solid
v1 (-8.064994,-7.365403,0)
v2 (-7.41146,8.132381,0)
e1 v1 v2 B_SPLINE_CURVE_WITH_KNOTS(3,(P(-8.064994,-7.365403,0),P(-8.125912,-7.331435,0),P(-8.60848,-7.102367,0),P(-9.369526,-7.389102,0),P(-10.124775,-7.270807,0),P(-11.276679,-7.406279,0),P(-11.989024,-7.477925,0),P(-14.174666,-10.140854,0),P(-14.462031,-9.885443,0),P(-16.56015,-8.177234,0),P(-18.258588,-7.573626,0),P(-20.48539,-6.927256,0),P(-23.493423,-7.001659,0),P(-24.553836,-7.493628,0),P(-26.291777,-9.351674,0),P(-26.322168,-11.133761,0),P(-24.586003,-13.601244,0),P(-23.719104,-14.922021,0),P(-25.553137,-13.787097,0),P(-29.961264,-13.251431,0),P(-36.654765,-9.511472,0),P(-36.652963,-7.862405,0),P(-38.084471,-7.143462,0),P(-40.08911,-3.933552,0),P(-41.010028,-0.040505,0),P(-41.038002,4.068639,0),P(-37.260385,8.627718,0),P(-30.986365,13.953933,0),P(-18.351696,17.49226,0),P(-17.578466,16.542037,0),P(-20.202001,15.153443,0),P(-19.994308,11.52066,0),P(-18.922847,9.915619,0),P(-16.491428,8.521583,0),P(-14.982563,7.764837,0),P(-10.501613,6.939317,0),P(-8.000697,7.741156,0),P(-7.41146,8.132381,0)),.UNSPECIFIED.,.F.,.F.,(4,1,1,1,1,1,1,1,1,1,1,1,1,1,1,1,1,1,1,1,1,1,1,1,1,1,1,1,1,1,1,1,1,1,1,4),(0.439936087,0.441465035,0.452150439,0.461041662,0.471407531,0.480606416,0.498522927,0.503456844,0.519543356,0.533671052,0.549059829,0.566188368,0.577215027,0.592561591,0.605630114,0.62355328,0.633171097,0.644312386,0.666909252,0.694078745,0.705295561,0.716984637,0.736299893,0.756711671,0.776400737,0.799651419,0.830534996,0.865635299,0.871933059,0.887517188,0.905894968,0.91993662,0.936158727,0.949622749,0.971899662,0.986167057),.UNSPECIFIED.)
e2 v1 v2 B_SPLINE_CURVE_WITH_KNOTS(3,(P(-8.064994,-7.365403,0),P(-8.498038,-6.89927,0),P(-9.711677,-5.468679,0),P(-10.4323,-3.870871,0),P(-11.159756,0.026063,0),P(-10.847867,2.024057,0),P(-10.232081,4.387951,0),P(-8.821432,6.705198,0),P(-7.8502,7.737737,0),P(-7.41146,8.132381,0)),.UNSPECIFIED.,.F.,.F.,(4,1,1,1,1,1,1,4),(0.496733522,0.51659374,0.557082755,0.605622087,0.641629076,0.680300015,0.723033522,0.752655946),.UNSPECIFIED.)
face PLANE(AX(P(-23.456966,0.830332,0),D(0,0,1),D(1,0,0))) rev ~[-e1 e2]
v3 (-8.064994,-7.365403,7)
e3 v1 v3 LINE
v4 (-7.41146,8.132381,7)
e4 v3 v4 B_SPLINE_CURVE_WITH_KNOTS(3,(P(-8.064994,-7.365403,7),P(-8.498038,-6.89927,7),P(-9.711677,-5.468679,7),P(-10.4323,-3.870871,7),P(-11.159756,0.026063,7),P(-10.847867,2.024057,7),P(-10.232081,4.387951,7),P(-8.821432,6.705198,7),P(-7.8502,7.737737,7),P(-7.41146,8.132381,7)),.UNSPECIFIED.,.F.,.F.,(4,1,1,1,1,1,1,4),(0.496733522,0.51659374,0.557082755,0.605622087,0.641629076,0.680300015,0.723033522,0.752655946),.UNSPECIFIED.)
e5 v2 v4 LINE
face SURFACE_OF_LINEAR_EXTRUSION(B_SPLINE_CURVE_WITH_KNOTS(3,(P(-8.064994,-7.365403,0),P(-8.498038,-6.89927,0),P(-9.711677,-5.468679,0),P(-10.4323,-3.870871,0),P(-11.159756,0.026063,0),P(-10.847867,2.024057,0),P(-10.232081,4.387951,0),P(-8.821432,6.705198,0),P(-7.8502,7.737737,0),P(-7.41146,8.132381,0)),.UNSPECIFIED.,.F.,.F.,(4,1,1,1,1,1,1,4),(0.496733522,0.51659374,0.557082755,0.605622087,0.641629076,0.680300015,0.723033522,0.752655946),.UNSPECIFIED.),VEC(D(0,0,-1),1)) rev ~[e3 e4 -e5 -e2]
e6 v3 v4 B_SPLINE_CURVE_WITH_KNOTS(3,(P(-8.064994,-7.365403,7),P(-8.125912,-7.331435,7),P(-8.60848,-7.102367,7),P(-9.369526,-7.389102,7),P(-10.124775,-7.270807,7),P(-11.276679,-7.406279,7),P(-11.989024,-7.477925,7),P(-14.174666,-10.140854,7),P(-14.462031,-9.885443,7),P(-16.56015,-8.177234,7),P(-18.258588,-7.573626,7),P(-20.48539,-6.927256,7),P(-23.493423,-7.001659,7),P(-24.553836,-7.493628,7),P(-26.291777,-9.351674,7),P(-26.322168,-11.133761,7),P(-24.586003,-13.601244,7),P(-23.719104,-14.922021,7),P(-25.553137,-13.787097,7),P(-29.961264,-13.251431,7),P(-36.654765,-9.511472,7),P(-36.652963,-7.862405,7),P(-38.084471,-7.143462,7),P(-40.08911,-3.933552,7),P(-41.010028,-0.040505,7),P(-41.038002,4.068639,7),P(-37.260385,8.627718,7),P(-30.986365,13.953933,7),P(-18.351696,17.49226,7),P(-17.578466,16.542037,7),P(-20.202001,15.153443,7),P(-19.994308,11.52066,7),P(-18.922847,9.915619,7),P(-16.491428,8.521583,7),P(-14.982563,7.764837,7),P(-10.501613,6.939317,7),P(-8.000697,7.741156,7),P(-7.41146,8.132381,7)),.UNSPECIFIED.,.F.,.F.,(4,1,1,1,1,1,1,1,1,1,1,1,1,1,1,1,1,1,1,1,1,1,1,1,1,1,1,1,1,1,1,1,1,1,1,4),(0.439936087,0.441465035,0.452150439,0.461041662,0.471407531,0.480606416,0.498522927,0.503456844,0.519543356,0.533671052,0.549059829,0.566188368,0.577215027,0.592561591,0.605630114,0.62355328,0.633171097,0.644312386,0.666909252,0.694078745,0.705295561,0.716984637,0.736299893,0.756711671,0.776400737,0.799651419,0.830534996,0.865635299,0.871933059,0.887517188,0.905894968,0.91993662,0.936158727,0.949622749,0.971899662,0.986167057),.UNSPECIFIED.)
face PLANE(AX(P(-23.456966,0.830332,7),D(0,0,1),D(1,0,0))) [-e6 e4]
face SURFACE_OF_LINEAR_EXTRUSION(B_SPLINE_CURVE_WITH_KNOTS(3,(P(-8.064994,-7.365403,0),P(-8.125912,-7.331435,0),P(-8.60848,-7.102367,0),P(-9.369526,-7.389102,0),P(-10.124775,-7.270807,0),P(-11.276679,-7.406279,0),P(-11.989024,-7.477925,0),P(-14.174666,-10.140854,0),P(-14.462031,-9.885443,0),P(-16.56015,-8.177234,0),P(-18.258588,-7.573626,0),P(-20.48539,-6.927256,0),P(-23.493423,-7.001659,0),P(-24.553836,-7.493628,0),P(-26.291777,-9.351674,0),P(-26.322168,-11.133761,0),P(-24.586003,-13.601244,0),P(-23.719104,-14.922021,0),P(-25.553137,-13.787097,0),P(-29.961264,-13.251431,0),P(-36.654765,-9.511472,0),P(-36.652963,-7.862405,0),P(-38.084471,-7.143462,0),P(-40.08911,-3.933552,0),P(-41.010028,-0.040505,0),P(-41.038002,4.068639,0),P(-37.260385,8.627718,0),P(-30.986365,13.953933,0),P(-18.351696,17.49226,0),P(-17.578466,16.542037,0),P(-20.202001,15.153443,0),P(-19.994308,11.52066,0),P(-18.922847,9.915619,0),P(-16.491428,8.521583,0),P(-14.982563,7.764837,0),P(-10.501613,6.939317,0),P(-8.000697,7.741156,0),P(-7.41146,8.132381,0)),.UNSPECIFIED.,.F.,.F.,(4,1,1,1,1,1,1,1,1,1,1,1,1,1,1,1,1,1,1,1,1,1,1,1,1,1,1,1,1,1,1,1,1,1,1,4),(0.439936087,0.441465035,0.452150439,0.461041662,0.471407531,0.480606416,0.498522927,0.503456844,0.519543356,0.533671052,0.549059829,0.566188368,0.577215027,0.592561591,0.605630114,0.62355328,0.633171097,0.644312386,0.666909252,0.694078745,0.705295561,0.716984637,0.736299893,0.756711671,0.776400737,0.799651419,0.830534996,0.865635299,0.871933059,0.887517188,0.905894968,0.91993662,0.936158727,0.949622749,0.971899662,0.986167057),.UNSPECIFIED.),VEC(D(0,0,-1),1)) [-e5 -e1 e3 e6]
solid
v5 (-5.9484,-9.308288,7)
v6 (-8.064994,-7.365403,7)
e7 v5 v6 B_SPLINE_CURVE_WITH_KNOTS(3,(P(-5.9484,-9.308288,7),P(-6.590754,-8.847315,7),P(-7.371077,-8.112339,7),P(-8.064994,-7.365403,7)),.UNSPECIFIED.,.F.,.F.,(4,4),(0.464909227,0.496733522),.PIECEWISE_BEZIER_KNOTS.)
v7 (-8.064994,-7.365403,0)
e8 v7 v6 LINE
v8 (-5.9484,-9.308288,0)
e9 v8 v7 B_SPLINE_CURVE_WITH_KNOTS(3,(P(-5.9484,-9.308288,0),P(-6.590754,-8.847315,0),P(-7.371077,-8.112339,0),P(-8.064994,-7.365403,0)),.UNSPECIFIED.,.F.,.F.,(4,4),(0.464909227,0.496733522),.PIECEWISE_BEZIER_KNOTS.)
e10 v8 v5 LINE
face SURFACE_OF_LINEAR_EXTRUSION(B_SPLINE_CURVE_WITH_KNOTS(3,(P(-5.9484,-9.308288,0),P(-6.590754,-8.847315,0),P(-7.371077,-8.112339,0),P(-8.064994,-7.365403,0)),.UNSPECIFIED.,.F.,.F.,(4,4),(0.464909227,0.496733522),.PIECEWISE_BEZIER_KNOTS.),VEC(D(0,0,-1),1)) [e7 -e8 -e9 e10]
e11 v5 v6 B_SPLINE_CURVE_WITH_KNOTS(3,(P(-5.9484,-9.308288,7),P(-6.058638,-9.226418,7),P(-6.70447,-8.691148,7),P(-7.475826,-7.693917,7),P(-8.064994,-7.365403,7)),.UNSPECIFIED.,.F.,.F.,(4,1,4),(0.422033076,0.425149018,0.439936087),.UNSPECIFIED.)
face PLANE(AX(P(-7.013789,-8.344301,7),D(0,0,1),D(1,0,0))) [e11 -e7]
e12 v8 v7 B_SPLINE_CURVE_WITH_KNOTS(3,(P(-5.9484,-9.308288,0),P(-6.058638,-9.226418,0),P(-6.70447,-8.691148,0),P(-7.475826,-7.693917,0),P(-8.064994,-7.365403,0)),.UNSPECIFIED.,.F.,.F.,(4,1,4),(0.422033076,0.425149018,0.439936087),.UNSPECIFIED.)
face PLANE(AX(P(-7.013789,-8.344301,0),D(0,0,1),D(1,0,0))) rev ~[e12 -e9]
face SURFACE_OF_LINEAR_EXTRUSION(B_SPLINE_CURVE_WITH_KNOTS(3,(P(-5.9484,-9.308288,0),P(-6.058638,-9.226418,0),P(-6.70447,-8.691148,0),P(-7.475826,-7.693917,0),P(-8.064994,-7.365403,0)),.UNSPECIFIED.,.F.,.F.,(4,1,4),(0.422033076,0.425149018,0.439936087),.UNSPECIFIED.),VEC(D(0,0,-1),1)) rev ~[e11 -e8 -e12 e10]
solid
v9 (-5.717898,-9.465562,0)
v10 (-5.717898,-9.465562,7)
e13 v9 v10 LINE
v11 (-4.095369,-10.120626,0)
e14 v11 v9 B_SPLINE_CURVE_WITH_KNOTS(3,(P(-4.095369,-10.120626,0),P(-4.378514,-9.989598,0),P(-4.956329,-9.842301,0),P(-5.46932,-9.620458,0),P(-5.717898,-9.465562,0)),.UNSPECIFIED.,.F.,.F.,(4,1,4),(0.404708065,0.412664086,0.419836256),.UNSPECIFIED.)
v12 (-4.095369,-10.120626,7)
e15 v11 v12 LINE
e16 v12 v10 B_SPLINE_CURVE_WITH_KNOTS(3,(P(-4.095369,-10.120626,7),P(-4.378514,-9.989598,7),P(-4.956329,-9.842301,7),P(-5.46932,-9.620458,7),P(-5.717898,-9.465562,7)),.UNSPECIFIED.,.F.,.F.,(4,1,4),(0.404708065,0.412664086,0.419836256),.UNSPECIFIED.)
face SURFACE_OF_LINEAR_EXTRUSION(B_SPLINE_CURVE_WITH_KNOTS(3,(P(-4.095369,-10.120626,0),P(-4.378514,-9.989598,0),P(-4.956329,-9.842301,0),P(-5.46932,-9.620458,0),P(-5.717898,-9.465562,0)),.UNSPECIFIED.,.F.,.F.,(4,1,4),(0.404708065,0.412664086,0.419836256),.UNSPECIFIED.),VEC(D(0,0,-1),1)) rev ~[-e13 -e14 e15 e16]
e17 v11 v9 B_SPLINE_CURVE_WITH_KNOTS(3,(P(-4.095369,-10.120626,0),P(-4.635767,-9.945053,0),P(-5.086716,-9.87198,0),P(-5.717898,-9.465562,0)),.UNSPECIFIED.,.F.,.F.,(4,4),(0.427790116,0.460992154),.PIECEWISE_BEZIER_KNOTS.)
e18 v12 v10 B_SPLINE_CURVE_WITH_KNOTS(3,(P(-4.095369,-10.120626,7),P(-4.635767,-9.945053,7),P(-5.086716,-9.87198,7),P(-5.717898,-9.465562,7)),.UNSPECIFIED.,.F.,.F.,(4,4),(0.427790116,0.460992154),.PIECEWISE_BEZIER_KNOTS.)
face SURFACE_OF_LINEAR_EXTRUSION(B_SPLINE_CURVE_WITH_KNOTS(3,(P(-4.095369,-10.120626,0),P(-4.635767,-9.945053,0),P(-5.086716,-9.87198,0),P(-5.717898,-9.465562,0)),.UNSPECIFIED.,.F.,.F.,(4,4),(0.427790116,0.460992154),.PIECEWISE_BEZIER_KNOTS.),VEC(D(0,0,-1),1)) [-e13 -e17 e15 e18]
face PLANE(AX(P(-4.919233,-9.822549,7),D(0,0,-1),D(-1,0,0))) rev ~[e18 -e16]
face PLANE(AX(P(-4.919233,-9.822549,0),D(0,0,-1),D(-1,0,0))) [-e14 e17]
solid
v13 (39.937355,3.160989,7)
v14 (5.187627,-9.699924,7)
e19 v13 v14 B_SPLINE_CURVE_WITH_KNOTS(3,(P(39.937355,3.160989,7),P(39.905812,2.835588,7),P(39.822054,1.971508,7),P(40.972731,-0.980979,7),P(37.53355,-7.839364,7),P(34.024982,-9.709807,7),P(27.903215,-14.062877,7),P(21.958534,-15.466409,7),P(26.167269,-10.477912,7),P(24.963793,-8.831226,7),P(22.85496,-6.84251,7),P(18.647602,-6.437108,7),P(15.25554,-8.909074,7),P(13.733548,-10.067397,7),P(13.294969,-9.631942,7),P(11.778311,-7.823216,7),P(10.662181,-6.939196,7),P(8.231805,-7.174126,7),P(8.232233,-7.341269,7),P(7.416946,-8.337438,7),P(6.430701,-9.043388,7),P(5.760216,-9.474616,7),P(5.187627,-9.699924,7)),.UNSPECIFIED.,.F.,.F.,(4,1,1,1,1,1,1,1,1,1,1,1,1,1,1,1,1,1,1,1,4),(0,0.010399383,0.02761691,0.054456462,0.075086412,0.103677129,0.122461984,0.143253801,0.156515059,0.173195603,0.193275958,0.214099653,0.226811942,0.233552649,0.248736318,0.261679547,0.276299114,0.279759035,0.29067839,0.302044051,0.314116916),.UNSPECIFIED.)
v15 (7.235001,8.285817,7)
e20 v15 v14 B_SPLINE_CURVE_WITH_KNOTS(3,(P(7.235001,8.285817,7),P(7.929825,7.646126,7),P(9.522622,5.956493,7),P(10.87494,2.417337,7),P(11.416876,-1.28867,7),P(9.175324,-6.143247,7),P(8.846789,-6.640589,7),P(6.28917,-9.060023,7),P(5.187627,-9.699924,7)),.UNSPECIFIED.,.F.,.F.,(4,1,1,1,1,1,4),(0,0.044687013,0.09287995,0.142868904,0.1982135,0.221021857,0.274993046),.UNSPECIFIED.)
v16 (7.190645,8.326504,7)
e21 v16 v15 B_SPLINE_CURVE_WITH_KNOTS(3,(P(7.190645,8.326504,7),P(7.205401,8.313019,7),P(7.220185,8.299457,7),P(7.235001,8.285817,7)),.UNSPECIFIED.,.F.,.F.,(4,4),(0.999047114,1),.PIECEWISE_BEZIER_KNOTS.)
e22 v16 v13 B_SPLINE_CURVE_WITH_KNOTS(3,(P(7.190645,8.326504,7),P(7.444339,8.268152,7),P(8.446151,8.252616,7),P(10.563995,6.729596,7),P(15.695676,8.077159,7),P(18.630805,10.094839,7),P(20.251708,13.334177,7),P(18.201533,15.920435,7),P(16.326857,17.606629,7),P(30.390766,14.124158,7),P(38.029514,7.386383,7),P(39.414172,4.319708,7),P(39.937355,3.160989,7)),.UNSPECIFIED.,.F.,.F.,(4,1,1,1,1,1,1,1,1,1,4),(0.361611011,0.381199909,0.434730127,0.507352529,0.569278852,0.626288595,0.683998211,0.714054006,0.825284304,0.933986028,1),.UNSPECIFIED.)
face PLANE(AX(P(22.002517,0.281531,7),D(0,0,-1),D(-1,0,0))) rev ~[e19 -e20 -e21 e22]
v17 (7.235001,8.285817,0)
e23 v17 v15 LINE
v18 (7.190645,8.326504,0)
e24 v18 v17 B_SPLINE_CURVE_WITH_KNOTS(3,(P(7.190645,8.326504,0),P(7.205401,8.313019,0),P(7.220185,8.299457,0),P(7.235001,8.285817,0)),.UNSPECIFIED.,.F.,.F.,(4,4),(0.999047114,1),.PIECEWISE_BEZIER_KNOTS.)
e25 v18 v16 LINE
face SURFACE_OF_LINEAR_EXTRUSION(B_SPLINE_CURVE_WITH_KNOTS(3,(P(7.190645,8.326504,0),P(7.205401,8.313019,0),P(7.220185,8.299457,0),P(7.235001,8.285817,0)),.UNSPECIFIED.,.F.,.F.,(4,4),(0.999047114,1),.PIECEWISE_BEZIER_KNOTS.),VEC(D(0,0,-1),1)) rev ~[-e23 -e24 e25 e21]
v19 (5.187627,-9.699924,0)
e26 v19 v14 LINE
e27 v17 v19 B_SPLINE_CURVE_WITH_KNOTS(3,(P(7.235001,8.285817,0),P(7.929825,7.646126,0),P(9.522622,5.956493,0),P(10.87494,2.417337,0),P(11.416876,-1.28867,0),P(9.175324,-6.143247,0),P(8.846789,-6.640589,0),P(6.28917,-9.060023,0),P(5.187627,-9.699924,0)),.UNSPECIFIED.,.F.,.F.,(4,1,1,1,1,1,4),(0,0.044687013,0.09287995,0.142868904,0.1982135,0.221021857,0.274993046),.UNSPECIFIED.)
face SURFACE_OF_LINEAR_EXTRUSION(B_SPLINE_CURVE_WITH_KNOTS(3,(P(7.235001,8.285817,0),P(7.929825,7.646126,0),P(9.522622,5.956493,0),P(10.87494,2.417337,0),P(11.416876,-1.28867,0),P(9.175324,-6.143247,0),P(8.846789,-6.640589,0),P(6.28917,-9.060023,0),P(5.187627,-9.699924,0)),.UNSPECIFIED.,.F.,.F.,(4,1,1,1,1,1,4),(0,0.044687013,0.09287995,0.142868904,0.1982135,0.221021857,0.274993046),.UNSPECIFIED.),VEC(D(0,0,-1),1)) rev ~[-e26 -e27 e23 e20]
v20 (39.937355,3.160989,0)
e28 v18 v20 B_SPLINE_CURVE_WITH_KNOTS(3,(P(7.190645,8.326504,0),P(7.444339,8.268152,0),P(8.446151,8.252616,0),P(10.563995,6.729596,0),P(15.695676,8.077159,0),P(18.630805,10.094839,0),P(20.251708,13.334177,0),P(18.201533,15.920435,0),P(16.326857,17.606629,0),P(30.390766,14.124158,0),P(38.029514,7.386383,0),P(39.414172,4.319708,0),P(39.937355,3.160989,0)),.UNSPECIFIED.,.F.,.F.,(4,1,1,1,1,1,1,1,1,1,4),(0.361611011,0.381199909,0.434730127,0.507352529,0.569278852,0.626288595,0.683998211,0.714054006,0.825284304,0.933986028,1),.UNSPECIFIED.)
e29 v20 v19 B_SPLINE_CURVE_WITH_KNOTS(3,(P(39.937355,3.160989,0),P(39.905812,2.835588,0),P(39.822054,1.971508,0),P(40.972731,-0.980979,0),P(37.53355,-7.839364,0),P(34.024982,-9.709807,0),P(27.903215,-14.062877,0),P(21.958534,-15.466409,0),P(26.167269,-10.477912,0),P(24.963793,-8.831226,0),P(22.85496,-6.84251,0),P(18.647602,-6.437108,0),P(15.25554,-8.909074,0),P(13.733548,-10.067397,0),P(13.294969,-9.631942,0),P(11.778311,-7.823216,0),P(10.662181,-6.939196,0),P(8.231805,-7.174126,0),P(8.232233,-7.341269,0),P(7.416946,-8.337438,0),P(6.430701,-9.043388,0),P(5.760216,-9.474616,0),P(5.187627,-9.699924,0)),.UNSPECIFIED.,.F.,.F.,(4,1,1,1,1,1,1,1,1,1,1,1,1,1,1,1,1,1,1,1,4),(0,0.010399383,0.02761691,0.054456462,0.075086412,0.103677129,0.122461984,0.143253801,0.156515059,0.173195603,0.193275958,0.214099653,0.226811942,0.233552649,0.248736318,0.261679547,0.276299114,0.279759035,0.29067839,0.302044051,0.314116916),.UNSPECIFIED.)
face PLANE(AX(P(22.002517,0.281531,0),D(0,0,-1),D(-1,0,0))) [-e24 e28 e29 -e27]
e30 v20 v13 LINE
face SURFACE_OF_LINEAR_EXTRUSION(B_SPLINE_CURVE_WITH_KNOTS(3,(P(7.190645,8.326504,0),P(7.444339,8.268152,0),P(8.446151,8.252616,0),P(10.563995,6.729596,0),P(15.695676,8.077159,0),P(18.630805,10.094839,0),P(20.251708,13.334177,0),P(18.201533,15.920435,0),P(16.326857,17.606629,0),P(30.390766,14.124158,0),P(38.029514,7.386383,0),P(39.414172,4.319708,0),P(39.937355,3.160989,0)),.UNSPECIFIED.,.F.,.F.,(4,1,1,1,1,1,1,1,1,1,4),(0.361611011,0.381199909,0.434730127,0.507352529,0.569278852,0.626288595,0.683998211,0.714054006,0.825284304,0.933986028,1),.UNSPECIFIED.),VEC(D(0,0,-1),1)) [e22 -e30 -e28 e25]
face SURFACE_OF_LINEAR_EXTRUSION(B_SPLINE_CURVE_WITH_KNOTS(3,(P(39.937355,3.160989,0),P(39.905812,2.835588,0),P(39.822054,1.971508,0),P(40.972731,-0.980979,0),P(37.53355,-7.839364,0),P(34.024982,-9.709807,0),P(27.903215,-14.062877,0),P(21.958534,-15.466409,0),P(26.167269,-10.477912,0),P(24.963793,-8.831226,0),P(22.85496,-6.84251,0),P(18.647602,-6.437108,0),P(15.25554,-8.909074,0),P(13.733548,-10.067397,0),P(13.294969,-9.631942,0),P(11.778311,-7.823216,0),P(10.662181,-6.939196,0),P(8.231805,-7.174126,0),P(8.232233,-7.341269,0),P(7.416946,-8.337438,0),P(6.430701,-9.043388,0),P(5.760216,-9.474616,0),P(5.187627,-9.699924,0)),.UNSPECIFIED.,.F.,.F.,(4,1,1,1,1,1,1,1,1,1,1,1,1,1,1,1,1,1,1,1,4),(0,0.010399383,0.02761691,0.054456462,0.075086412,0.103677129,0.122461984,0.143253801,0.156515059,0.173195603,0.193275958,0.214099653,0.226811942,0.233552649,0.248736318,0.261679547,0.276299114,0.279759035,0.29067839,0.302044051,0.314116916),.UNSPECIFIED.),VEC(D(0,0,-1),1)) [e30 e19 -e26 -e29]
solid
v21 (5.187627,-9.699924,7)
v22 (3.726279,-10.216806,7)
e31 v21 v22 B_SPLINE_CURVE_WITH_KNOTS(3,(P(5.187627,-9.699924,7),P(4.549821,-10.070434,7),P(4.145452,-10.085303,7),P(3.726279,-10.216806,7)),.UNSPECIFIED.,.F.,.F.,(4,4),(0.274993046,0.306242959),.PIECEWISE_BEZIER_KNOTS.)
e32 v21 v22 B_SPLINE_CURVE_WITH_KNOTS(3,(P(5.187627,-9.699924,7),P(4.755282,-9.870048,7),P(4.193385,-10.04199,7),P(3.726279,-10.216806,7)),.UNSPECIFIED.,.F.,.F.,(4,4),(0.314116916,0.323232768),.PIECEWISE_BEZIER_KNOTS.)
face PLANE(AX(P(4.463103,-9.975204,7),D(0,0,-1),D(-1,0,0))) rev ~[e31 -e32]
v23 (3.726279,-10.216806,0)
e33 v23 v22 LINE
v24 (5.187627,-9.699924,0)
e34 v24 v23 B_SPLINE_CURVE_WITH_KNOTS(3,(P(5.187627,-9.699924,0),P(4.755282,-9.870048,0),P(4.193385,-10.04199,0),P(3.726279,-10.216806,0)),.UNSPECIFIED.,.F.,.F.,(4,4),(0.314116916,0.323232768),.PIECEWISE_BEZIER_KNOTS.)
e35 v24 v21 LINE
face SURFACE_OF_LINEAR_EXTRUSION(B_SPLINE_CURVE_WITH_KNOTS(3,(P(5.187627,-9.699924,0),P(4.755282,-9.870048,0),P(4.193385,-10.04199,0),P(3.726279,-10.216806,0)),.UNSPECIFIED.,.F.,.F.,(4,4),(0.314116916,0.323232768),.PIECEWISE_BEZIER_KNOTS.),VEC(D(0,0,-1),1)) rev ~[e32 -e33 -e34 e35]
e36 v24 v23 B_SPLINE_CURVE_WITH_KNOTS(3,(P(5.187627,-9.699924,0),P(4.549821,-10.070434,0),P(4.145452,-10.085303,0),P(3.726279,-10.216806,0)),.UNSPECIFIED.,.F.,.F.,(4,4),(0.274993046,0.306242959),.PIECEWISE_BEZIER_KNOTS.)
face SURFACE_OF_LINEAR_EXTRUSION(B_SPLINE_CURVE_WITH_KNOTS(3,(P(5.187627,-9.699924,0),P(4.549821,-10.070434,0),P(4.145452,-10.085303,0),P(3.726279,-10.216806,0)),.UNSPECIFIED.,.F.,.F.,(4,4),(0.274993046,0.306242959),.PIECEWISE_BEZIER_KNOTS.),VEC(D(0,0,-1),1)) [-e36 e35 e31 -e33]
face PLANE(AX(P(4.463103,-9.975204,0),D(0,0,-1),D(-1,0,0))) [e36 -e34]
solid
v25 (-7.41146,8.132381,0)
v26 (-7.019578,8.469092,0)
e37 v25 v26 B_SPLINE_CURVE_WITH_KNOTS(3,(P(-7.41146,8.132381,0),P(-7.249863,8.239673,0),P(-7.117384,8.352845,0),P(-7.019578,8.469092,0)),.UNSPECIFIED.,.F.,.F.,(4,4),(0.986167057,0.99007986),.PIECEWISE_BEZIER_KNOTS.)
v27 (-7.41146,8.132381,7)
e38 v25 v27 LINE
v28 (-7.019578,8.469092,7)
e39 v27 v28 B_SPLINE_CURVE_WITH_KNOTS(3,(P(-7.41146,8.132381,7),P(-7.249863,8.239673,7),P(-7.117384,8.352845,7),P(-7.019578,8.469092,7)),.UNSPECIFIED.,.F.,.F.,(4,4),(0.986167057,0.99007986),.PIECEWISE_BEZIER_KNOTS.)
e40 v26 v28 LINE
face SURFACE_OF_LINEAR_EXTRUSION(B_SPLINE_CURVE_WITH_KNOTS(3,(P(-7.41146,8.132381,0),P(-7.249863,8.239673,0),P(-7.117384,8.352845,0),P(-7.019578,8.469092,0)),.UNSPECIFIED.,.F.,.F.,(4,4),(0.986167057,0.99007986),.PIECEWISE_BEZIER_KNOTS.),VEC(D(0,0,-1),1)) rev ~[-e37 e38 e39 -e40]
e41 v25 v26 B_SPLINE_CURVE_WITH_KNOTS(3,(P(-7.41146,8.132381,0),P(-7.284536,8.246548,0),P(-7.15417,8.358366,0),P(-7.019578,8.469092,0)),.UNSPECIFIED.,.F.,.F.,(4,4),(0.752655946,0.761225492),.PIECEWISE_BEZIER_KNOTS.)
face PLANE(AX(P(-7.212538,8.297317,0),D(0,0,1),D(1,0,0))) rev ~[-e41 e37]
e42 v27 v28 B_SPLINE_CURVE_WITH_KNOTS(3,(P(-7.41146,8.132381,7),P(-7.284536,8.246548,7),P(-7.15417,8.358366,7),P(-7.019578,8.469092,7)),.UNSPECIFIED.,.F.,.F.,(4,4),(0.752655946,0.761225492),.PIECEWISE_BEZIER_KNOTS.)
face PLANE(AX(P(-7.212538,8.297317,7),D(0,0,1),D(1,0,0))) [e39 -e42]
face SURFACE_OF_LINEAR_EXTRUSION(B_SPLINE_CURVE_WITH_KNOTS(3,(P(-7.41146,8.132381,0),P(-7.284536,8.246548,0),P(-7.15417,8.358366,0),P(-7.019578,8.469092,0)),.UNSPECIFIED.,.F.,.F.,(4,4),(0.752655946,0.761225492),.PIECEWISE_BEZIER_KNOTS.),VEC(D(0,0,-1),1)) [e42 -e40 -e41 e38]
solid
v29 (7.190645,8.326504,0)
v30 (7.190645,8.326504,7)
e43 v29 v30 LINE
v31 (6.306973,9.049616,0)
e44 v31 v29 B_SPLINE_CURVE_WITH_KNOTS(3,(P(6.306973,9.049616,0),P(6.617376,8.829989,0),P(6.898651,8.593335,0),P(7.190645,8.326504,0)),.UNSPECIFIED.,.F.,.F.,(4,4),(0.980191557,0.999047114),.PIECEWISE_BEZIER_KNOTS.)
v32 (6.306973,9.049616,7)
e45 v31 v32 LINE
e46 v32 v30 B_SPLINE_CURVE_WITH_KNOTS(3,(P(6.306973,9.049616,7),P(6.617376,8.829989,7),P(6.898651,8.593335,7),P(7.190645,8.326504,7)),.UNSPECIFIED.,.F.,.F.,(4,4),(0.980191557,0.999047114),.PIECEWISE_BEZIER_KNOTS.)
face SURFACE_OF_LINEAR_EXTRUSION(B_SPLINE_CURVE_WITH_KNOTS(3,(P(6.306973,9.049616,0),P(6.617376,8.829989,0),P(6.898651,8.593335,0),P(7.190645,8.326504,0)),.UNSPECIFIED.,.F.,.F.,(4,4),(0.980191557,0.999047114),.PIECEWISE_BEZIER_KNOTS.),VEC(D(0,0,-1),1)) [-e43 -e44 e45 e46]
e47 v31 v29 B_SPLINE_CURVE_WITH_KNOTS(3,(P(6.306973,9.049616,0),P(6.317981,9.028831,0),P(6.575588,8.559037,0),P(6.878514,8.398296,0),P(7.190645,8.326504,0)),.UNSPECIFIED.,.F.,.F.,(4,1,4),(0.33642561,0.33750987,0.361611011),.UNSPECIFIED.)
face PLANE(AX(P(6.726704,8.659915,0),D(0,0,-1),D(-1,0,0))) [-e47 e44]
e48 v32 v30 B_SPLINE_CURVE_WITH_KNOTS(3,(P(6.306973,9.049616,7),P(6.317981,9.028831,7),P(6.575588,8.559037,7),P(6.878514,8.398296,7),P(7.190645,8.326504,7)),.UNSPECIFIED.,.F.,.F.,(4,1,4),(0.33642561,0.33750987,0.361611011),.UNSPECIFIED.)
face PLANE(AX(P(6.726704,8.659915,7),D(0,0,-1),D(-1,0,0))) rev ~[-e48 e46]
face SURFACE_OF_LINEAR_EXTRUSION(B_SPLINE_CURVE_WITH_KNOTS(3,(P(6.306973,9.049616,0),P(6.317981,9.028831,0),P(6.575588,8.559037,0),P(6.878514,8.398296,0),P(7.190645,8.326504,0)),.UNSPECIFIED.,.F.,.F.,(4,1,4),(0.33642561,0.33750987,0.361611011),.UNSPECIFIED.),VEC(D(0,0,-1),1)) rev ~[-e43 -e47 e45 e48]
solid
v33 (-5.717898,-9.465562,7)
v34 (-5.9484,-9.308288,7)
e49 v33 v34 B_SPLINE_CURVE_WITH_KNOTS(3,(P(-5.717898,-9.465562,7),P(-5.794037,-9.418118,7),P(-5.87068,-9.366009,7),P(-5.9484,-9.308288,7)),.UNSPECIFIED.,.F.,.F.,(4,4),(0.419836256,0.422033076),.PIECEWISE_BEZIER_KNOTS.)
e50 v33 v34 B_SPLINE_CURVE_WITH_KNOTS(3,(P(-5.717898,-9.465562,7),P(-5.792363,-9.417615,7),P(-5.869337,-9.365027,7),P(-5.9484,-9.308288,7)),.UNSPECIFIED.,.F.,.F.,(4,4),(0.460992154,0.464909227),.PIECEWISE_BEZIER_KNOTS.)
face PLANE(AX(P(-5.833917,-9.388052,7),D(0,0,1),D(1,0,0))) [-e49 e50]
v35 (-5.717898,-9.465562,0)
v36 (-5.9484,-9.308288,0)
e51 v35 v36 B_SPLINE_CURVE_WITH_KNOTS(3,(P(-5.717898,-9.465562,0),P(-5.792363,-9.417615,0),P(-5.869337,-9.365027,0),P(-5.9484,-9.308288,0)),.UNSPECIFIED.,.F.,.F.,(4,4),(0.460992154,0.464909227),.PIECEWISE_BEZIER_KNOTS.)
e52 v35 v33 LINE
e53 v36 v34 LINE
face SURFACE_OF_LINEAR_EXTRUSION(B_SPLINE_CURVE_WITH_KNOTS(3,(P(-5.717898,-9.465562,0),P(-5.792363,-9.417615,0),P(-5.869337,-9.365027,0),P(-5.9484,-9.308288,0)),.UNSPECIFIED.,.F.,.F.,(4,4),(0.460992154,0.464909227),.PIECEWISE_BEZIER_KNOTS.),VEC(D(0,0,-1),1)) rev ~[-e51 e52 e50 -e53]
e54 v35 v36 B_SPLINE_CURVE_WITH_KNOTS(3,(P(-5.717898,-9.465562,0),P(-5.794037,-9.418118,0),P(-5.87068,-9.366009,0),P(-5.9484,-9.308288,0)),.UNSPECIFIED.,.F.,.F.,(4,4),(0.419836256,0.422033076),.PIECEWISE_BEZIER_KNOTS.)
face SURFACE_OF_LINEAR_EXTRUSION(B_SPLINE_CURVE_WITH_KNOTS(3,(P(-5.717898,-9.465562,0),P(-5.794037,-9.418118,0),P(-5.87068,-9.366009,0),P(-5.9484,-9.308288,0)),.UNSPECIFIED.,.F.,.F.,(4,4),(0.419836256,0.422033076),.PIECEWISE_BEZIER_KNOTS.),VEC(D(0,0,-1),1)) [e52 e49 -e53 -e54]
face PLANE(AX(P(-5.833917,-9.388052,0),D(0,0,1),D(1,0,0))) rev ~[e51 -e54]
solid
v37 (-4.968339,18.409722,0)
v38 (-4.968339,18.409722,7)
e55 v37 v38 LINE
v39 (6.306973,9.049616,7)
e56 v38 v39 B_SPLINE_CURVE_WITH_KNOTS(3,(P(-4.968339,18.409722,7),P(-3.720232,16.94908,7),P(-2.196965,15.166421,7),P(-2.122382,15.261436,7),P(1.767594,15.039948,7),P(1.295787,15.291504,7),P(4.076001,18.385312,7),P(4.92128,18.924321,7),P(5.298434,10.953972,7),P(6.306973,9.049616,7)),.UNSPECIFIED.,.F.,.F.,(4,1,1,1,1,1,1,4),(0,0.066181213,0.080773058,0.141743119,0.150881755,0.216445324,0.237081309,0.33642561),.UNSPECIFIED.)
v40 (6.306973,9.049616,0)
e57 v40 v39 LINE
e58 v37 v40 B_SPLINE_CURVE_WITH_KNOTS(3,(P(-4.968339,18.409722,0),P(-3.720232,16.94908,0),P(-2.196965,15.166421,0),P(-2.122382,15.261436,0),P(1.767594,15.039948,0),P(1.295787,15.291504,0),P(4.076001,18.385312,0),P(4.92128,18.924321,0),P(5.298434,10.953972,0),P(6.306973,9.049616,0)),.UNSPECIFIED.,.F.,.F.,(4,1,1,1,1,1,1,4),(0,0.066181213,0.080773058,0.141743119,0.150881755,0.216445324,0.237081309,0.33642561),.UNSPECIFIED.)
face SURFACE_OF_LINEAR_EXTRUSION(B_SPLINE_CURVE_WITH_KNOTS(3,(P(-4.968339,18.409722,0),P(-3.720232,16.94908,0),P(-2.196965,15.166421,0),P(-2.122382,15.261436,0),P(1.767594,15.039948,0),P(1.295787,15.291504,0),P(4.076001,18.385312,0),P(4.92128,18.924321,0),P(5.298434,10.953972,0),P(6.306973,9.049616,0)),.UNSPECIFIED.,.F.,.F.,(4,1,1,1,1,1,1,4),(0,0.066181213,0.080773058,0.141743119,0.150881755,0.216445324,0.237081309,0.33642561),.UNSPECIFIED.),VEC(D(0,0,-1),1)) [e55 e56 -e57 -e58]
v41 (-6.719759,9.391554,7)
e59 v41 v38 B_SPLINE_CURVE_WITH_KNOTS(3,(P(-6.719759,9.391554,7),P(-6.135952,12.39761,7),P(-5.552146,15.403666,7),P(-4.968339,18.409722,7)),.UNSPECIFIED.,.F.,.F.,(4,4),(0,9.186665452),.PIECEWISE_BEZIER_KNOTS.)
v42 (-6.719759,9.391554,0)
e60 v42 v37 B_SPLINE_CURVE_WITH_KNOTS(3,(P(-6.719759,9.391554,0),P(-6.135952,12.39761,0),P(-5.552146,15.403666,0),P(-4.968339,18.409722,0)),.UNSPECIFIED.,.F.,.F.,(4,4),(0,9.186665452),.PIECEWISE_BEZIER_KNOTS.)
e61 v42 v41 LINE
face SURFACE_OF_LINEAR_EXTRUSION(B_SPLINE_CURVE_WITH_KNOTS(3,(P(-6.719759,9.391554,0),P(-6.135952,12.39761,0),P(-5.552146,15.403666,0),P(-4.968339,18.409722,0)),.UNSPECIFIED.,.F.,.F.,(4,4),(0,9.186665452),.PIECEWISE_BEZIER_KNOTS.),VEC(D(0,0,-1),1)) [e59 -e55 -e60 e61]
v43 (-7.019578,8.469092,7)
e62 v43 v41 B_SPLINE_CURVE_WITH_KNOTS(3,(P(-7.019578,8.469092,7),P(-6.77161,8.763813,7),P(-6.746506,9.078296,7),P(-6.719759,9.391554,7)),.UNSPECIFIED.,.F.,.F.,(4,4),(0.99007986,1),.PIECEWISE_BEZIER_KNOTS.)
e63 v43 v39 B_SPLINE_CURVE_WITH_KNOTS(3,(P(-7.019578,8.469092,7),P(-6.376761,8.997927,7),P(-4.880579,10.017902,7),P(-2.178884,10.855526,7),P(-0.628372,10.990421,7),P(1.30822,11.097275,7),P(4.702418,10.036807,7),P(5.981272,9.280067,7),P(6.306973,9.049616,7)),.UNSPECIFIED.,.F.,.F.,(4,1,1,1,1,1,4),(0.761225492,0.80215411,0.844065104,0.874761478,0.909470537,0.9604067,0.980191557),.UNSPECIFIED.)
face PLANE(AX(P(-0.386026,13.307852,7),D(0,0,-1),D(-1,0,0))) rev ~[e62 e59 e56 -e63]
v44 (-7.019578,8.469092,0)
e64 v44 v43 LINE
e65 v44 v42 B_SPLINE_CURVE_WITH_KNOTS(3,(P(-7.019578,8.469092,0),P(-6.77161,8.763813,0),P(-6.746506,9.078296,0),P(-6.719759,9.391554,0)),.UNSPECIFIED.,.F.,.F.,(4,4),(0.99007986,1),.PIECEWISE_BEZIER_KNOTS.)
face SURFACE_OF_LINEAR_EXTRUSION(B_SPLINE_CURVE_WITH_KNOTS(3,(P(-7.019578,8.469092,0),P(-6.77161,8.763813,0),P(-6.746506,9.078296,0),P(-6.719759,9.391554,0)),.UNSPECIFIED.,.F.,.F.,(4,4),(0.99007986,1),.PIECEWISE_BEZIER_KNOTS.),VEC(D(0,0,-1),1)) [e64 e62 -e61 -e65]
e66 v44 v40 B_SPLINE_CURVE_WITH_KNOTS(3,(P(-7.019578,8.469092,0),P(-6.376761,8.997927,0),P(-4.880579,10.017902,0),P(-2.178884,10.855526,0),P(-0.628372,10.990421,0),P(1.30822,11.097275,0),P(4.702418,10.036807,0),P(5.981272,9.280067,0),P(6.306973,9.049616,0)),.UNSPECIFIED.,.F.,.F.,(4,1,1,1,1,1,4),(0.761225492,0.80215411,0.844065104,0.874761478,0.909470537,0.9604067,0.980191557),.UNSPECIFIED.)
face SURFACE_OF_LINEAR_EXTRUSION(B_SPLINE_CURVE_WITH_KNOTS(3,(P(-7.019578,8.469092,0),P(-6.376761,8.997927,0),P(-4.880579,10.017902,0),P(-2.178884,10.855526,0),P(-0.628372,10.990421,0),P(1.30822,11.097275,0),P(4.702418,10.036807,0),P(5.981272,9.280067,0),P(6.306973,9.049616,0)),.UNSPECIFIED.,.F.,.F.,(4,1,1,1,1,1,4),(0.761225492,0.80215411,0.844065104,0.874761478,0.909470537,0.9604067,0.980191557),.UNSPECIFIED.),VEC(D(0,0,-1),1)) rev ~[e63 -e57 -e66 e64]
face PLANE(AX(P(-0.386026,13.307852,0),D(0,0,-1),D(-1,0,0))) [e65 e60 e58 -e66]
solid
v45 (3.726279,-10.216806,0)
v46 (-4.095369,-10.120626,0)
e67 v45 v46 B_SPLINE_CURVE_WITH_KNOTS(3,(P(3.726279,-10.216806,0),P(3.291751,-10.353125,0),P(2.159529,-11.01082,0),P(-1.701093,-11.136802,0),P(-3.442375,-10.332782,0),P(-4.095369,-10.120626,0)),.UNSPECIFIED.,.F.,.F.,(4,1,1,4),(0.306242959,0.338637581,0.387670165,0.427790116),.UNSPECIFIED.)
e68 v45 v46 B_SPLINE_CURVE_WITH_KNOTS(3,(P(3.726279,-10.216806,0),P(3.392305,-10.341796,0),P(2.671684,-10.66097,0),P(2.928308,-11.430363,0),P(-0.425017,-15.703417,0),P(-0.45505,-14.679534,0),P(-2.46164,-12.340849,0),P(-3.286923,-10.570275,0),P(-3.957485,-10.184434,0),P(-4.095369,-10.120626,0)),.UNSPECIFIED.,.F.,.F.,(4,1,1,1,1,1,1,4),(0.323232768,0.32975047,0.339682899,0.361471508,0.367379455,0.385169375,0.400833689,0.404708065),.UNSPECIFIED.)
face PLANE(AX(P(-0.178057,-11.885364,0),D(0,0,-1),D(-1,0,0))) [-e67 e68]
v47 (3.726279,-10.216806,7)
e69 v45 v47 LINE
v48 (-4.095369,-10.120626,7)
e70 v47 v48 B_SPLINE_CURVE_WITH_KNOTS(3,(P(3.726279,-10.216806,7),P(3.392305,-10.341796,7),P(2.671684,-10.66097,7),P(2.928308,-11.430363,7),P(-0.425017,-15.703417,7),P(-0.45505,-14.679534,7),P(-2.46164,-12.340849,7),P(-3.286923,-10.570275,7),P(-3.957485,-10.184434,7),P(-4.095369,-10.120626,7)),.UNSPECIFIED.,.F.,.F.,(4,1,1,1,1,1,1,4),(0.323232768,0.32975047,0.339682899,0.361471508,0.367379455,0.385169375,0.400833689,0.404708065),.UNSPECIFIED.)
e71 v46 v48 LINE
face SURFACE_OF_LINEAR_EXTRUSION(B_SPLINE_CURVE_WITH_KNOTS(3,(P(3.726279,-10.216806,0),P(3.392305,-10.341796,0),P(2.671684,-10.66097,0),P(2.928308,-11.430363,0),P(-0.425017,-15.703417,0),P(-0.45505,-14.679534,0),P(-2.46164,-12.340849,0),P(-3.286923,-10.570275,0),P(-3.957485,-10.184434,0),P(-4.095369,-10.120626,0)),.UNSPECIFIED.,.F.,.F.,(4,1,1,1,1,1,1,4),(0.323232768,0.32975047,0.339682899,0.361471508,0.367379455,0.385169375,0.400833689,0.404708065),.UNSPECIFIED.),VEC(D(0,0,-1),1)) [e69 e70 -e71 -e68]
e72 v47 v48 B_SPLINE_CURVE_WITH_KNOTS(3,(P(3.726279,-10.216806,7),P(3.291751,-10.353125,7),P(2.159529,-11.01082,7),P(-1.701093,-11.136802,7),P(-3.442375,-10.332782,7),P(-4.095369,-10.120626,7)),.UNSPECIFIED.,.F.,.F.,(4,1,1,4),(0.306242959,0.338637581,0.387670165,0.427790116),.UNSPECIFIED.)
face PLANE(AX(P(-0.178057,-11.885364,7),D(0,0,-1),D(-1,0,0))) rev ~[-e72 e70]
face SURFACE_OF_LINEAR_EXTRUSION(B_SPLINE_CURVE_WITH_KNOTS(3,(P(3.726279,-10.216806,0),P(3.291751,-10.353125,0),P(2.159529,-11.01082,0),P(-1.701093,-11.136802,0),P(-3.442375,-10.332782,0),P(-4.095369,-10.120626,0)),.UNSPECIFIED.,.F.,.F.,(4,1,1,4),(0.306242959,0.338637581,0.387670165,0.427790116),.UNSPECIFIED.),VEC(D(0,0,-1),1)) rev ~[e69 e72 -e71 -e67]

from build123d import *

# Parameters (mm, degrees)
F1_DEPTH = 7


with BuildPart() as f1:
    # F0 (on Top) → F1 (new body)
    with BuildSketch(Plane.XY):
        with BuildLine():
            add(Edge.make_bspline(
                [(-4.9683391117, 18.4097215533), (-3.720232358, 16.9490796436), (-2.1969648964, 15.1664211336), (-2.1223822059, 15.2614364478), (1.7675941703, 15.0399476155), (1.2957874363, 15.2915040775), (4.0760005082, 18.3853115059), (4.9212796536, 18.9243213879), (5.2984341621, 10.9539715893), (6.3069732411, 9.0496158353)],
                knots=[0, 0, 0, 0, 0.066181213, 0.0807730577, 0.1417431194, 0.1508817553, 0.216445324, 0.2370813087, 0.3364256101, 0.3364256101, 0.3364256101, 0.3364256101], degree=3))
            add(Edge.make_bspline(
                [(-6.7197587341, 9.3915537), (-6.1359521933, 12.3976096511), (-5.5521456525, 15.4036656022), (-4.9683391117, 18.4097215533)],
                knots=[0, 0, 0, 0, 9.1866654519, 9.1866654519, 9.1866654519, 9.1866654519], degree=3))
            add(Edge.make_bspline(
                [(-7.0195782836, 8.4690920788), (-6.771609958, 8.7638128674), (-6.7465060645, 9.0782964882), (-6.7197587341, 9.3915537)],
                knots=[0.9900798602, 0.9900798602, 0.9900798602, 0.9900798602, 1, 1, 1, 1], degree=3))
            add(Edge.make_bspline(
                [(-7.0195782863, 8.4690920815), (-6.3767606996, 8.9979270599), (-4.8805792708, 10.017902026), (-2.1788843311, 10.8555257978), (-0.6283724476, 10.9904214409), (1.3082200553, 11.0972745659), (4.7024179384, 10.0368068395), (5.9812718811, 9.2800670822), (6.3069732411, 9.0496158353)],
                knots=[0.761225492, 0.761225492, 0.761225492, 0.761225492, 0.8021541099, 0.8440651036, 0.8747614782, 0.9094705369, 0.9604066999, 0.9801915573, 0.9801915573, 0.9801915573, 0.9801915573], degree=3))
        make_face()
    extrude(amount=F1_DEPTH)


with BuildPart() as f1b:
    # F0 (on Top) → F1, piece 2 (new body)
    with BuildSketch(Plane.XY):
        with BuildLine():
            add(Edge.make_bspline(
                [(6.3069732411, 9.0496158353), (6.6173763048, 8.8299889566), (6.8986514558, 8.593335437), (7.1906451448, 8.3265035986)],
                knots=[0.9801915573, 0.9801915573, 0.9801915573, 0.9801915573, 0.9990471136, 0.9990471136, 0.9990471136, 0.9990471136], degree=3))
            add(Edge.make_bspline(
                [(6.3069732411, 9.0496158353), (6.3179806059, 9.0288313769), (6.5755881924, 8.5590371876), (6.8785142124, 8.398295927), (7.1906451448, 8.3265035986)],
                knots=[0.3364256101, 0.3364256101, 0.3364256101, 0.3364256101, 0.3375098705, 0.3616110112, 0.3616110112, 0.3616110112, 0.3616110112], degree=3))
        make_face()
    extrude(amount=F1_DEPTH)


with BuildPart() as f1c:
    # F0 (on Top) → F1, piece 3 (new body)
    with BuildSketch(Plane.XY):
        with BuildLine():
            add(Edge.make_bspline(
                [(7.1906451448, 8.3265035986), (7.4443385663, 8.2681523122), (8.4461510492, 8.2526159196), (10.5639953309, 6.7295963705), (15.6956760866, 8.077158623), (18.6308051452, 10.0948391572), (20.2517081565, 13.3341772592), (18.2015326417, 15.9204345264), (16.3268568519, 17.6066288996), (30.3907662767, 14.124157994), (38.0295135781, 7.3863829065), (39.4141721621, 4.3197079498), (39.9373546243, 3.1609886792)],
                knots=[0.3616110112, 0.3616110112, 0.3616110112, 0.3616110112, 0.3811999088, 0.4347301272, 0.5073525292, 0.5692788523, 0.626288595, 0.6839982106, 0.7140540062, 0.8252843044, 0.9339860275, 1, 1, 1, 1], degree=3))
            add(Edge.make_bspline(
                [(7.1906451448, 8.3265035986), (7.2054013685, 8.3130189569), (7.2201849662, 8.2994572427), (7.2350010807, 8.2858167589)],
                knots=[0.9990471136, 0.9990471136, 0.9990471136, 0.9990471136, 1, 1, 1, 1], degree=3))
            add(Edge.make_bspline(
                [(7.2350010807, 8.2858167589), (7.9298246394, 7.6461261355), (9.5226218486, 5.9564931947), (10.8749399967, 2.4173372401), (11.4168756074, -1.2886696294), (9.1753240231, -6.1432466522), (8.8467886615, -6.6405887654), (6.2891703239, -9.0600233615), (5.1876266097, -9.6999242337)],
                knots=[0, 0, 0, 0, 0.0446870128, 0.0928799496, 0.1428689038, 0.1982134998, 0.2210218567, 0.2749930462, 0.2749930462, 0.2749930462, 0.2749930462], degree=3))
            add(Edge.make_bspline(
                [(39.9373546243, 3.1609886792), (39.9058124177, 2.8355884995), (39.8220540351, 1.9715084072), (40.9727310119, -0.9809791931), (37.5335499895, -7.8393640342), (34.0249815608, -9.7098065181), (27.9032147124, -14.0628769576), (21.9585338626, -15.4664094709), (26.1672688007, -10.4779122027), (24.9637933847, -8.8312255385), (22.8549601426, -6.8425095406), (18.647601791, -6.4371082344), (15.2555396242, -8.9090743554), (13.7335478265, -10.0673972195), (13.2949694265, -9.6319417174), (11.7783107595, -7.8232155792), (10.6621810097, -6.9391962595), (8.2318053629, -7.1741263476), (8.232232828, -7.3412688752), (7.4169464162, -8.3374381651), (6.4307007662, -9.0433882431), (5.7602161398, -9.4746155708), (5.1876266113, -9.699924237)],
                knots=[0, 0, 0, 0, 0.0103993834, 0.0276169102, 0.0544564625, 0.0750864124, 0.1036771293, 0.1224619844, 0.143253801, 0.1565150588, 0.173195603, 0.1932759582, 0.2140996534, 0.226811942, 0.2335526494, 0.2487363184, 0.2616795465, 0.2762991139, 0.2797590352, 0.2906783903, 0.3020440506, 0.3141169156, 0.3141169156, 0.3141169156, 0.3141169156], degree=3))
        make_face()
    extrude(amount=F1_DEPTH)


with BuildPart() as f1d:
    # F0 (on Top) → F1, piece 4 (new body)
    with BuildSketch(Plane.XY):
        with BuildLine():
            add(Edge.make_bspline(
                [(5.1876266097, -9.6999242337), (4.5498206587, -10.0704338912), (4.1454522434, -10.0853032081), (3.7262787573, -10.2168057526)],
                knots=[0.2749930462, 0.2749930462, 0.2749930462, 0.2749930462, 0.3062429589, 0.3062429589, 0.3062429589, 0.3062429589], degree=3))
            add(Edge.make_bspline(
                [(5.1876266113, -9.699924237), (4.7552817141, -9.8700479422), (4.1933850254, -10.041989989), (3.7262787592, -10.216805753)],
                knots=[0.3141169156, 0.3141169156, 0.3141169156, 0.3141169156, 0.3232327676, 0.3232327676, 0.3232327676, 0.3232327676], degree=3))
        make_face()
    extrude(amount=F1_DEPTH)


with BuildPart() as f1e:
    # F0 (on Top) → F1, piece 5 (new body)
    with BuildSketch(Plane.XY):
        with BuildLine():
            add(Edge.make_bspline(
                [(3.7262787491, -10.2168057559), (3.3923045286, -10.3417964974), (2.6716838287, -10.660970365), (2.9283076745, -11.4303630809), (-0.4250165435, -15.703416803), (-0.4550502937, -14.6795344689), (-2.4616398164, -12.3408486411), (-3.2869227038, -10.5702748008), (-3.9574851304, -10.1844335041), (-4.0953691953, -10.1206263107)],
                knots=[0.3232327676, 0.3232327676, 0.3232327676, 0.3232327676, 0.32975047, 0.3396828987, 0.3614715079, 0.3673794549, 0.3851693749, 0.4008336894, 0.4047080646, 0.4047080646, 0.4047080646, 0.4047080646], degree=3))
            add(Edge.make_bspline(
                [(3.7262787556, -10.2168057526), (3.2917506277, -10.3531253352), (2.1595292213, -11.010819612), (-1.7010928411, -11.1368018943), (-3.4423746184, -10.3327820991), (-4.0953692025, -10.1206263051)],
                knots=[0.3062429589, 0.3062429589, 0.3062429589, 0.3062429589, 0.3386375808, 0.3876701647, 0.4277901159, 0.4277901159, 0.4277901159, 0.4277901159], degree=3))
        make_face()
    extrude(amount=F1_DEPTH)


with BuildPart() as f1f:
    # F0 (on Top) → F1, piece 6 (new body)
    with BuildSketch(Plane.XY):
        with BuildLine():
            add(Edge.make_bspline(
                [(-4.0953692025, -10.1206263051), (-4.6357674579, -9.9450526882), (-5.0867162169, -9.8719802287), (-5.717898367, -9.4655624388)],
                knots=[0.4277901159, 0.4277901159, 0.4277901159, 0.4277901159, 0.4609921539, 0.4609921539, 0.4609921539, 0.4609921539], degree=3))
            add(Edge.make_bspline(
                [(-4.0953691953, -10.1206263107), (-4.3785138364, -9.9895983715), (-4.9563292208, -9.8423014454), (-5.4693202105, -9.620458039), (-5.7178983597, -9.4655624442)],
                knots=[0.4047080646, 0.4047080646, 0.4047080646, 0.4047080646, 0.4126640859, 0.4198362558, 0.4198362558, 0.4198362558, 0.4198362558], degree=3))
        make_face()
    extrude(amount=F1_DEPTH)


with BuildPart() as f1g:
    # F0 (on Top) → F1, piece 7 (new body)
    with BuildSketch(Plane.XY):
        with BuildLine():
            add(Edge.make_bspline(
                [(-5.7178983698, -9.4655624383), (-5.7923632714, -9.4176145349), (-5.8693367596, -9.3650269496), (-5.9484004434, -9.3082883074)],
                knots=[0.4609921539, 0.4609921539, 0.4609921539, 0.4609921539, 0.4649092268, 0.4649092268, 0.4649092268, 0.4649092268], degree=3))
            add(Edge.make_bspline(
                [(-5.7178983597, -9.4655624442), (-5.7940373069, -9.41811826), (-5.8706803121, -9.3660093158), (-5.9484004618, -9.3082882945)],
                knots=[0.4198362558, 0.4198362558, 0.4198362558, 0.4198362558, 0.4220330758, 0.4220330758, 0.4220330758, 0.4220330758], degree=3))
        make_face()
    extrude(amount=F1_DEPTH)


with BuildPart() as f1h:
    # F0 (on Top) → F1, piece 8 (new body)
    with BuildSketch(Plane.XY):
        with BuildLine():
            add(Edge.make_bspline(
                [(-5.9484004618, -9.3082882945), (-6.0586377606, -9.226417512), (-6.7044699351, -8.6911484282), (-7.4758258101, -7.693917036), (-8.0649936339, -7.3654025051)],
                knots=[0.4220330758, 0.4220330758, 0.4220330758, 0.4220330758, 0.4251490182, 0.4399360869, 0.4399360869, 0.4399360869, 0.4399360869], degree=3))
            add(Edge.make_bspline(
                [(-5.9484004618, -9.3082882945), (-6.5907541134, -8.8473146537), (-7.3710766817, -8.1123394857), (-8.0649936339, -7.3654025051)],
                knots=[0.4649092268, 0.4649092268, 0.4649092268, 0.4649092268, 0.4967335223, 0.4967335223, 0.4967335223, 0.4967335223], degree=3))
        make_face()
    extrude(amount=F1_DEPTH)


with BuildPart() as f1i:
    # F0 (on Top) → F1, piece 9 (new body)
    with BuildSketch(Plane.XY):
        with BuildLine():
            add(Edge.make_bspline(
                [(-8.0649936339, -7.3654025051), (-8.4980383169, -6.8992702296), (-9.7116769829, -5.46867853), (-10.4322999833, -3.8708712875), (-11.1597557917, 0.0260634799), (-10.8478666983, 2.0240572153), (-10.232081363, 4.3879505759), (-8.8214319277, 6.7051983114), (-7.8502002974, 7.7377370467), (-7.4114599333, 8.1323806196)],
                knots=[0.4967335223, 0.4967335223, 0.4967335223, 0.4967335223, 0.5165937403, 0.5570827552, 0.6056220865, 0.641629076, 0.6803000148, 0.7230335224, 0.7526559462, 0.7526559462, 0.7526559462, 0.7526559462], degree=3))
            add(Edge.make_bspline(
                [(-8.0649936339, -7.3654025051), (-8.1259121808, -7.3314348867), (-8.6084798912, -7.1023667651), (-9.3695256289, -7.3891023466), (-10.1247751443, -7.2708068595), (-11.2766786265, -7.4062787364), (-11.9890238864, -7.4779249392), (-14.1746664791, -10.140854387), (-14.4620309065, -9.8854430894), (-16.5601499668, -8.1772344479), (-18.2585883659, -7.5736260705), (-20.4853899448, -6.9272558841), (-23.4934231318, -7.0016585888), (-24.553836197, -7.4936284719), (-26.2917768741, -9.3516738153), (-26.3221678133, -11.1337612525), (-24.5860031554, -13.6012442126), (-23.7191036101, -14.9220211167), (-25.5531371496, -13.7870973773), (-29.9612636409, -13.2514306202), (-36.6547650456, -9.5114719184), (-36.6529634626, -7.8624047442), (-38.084471369, -7.1434616923), (-40.0891102181, -3.9335516777), (-41.0100276682, -0.0405047794), (-41.0380020425, 4.068638937), (-37.2603849598, 8.6277177007), (-30.9863654144, 13.9539326528), (-18.3516964758, 17.4922602489), (-17.5784663225, 16.5420367791), (-20.2020008616, 15.1534426519), (-19.9943083733, 11.5206602737), (-18.9228474611, 9.9156191906), (-16.4914277632, 8.5215830993), (-14.9825627073, 7.7648366937), (-10.5016132214, 6.9393167086), (-8.0006969866, 7.7411562514), (-7.4114599333, 8.1323806196)],
                knots=[0.4399360869, 0.4399360869, 0.4399360869, 0.4399360869, 0.4414650345, 0.4521504386, 0.461041662, 0.4714075305, 0.480606416, 0.4985229266, 0.5034568443, 0.5195433561, 0.5336710522, 0.5490598295, 0.5661883675, 0.5772150273, 0.5925615911, 0.605630114, 0.6235532804, 0.633171097, 0.6443123862, 0.6669092515, 0.6940787446, 0.7052955608, 0.7169846373, 0.736299893, 0.7567116714, 0.7764007371, 0.799651419, 0.8305349961, 0.8656352988, 0.871933059, 0.8875171883, 0.9058949679, 0.9199366201, 0.9361587273, 0.9496227491, 0.9718996623, 0.9861670567, 0.9861670567, 0.9861670567, 0.9861670567], degree=3))
        make_face()
    extrude(amount=F1_DEPTH)


with BuildPart() as f1j:
    # F0 (on Top) → F1, piece 10 (new body)
    with BuildSketch(Plane.XY):
        with BuildLine():
            add(Edge.make_bspline(
                [(-7.4114599333, 8.1323806196), (-7.2498628833, 8.239673098), (-7.1173844918, 8.3528452849), (-7.0195782836, 8.4690920788)],
                knots=[0.9861670567, 0.9861670567, 0.9861670567, 0.9861670567, 0.9900798602, 0.9900798602, 0.9900798602, 0.9900798602], degree=3))
            add(Edge.make_bspline(
                [(-7.4114599333, 8.1323806196), (-7.2845356259, 8.246548055), (-7.1541700367, 8.3583657621), (-7.0195782863, 8.4690920815)],
                knots=[0.7526559462, 0.7526559462, 0.7526559462, 0.7526559462, 0.761225492, 0.761225492, 0.761225492, 0.761225492], degree=3))
        make_face()
    extrude(amount=F1_DEPTH)


solid = Compound([f1.part, f1b.part, f1c.part, f1d.part, f1e.part, f1f.part, f1g.part, f1h.part, f1i.part, f1j.part])
